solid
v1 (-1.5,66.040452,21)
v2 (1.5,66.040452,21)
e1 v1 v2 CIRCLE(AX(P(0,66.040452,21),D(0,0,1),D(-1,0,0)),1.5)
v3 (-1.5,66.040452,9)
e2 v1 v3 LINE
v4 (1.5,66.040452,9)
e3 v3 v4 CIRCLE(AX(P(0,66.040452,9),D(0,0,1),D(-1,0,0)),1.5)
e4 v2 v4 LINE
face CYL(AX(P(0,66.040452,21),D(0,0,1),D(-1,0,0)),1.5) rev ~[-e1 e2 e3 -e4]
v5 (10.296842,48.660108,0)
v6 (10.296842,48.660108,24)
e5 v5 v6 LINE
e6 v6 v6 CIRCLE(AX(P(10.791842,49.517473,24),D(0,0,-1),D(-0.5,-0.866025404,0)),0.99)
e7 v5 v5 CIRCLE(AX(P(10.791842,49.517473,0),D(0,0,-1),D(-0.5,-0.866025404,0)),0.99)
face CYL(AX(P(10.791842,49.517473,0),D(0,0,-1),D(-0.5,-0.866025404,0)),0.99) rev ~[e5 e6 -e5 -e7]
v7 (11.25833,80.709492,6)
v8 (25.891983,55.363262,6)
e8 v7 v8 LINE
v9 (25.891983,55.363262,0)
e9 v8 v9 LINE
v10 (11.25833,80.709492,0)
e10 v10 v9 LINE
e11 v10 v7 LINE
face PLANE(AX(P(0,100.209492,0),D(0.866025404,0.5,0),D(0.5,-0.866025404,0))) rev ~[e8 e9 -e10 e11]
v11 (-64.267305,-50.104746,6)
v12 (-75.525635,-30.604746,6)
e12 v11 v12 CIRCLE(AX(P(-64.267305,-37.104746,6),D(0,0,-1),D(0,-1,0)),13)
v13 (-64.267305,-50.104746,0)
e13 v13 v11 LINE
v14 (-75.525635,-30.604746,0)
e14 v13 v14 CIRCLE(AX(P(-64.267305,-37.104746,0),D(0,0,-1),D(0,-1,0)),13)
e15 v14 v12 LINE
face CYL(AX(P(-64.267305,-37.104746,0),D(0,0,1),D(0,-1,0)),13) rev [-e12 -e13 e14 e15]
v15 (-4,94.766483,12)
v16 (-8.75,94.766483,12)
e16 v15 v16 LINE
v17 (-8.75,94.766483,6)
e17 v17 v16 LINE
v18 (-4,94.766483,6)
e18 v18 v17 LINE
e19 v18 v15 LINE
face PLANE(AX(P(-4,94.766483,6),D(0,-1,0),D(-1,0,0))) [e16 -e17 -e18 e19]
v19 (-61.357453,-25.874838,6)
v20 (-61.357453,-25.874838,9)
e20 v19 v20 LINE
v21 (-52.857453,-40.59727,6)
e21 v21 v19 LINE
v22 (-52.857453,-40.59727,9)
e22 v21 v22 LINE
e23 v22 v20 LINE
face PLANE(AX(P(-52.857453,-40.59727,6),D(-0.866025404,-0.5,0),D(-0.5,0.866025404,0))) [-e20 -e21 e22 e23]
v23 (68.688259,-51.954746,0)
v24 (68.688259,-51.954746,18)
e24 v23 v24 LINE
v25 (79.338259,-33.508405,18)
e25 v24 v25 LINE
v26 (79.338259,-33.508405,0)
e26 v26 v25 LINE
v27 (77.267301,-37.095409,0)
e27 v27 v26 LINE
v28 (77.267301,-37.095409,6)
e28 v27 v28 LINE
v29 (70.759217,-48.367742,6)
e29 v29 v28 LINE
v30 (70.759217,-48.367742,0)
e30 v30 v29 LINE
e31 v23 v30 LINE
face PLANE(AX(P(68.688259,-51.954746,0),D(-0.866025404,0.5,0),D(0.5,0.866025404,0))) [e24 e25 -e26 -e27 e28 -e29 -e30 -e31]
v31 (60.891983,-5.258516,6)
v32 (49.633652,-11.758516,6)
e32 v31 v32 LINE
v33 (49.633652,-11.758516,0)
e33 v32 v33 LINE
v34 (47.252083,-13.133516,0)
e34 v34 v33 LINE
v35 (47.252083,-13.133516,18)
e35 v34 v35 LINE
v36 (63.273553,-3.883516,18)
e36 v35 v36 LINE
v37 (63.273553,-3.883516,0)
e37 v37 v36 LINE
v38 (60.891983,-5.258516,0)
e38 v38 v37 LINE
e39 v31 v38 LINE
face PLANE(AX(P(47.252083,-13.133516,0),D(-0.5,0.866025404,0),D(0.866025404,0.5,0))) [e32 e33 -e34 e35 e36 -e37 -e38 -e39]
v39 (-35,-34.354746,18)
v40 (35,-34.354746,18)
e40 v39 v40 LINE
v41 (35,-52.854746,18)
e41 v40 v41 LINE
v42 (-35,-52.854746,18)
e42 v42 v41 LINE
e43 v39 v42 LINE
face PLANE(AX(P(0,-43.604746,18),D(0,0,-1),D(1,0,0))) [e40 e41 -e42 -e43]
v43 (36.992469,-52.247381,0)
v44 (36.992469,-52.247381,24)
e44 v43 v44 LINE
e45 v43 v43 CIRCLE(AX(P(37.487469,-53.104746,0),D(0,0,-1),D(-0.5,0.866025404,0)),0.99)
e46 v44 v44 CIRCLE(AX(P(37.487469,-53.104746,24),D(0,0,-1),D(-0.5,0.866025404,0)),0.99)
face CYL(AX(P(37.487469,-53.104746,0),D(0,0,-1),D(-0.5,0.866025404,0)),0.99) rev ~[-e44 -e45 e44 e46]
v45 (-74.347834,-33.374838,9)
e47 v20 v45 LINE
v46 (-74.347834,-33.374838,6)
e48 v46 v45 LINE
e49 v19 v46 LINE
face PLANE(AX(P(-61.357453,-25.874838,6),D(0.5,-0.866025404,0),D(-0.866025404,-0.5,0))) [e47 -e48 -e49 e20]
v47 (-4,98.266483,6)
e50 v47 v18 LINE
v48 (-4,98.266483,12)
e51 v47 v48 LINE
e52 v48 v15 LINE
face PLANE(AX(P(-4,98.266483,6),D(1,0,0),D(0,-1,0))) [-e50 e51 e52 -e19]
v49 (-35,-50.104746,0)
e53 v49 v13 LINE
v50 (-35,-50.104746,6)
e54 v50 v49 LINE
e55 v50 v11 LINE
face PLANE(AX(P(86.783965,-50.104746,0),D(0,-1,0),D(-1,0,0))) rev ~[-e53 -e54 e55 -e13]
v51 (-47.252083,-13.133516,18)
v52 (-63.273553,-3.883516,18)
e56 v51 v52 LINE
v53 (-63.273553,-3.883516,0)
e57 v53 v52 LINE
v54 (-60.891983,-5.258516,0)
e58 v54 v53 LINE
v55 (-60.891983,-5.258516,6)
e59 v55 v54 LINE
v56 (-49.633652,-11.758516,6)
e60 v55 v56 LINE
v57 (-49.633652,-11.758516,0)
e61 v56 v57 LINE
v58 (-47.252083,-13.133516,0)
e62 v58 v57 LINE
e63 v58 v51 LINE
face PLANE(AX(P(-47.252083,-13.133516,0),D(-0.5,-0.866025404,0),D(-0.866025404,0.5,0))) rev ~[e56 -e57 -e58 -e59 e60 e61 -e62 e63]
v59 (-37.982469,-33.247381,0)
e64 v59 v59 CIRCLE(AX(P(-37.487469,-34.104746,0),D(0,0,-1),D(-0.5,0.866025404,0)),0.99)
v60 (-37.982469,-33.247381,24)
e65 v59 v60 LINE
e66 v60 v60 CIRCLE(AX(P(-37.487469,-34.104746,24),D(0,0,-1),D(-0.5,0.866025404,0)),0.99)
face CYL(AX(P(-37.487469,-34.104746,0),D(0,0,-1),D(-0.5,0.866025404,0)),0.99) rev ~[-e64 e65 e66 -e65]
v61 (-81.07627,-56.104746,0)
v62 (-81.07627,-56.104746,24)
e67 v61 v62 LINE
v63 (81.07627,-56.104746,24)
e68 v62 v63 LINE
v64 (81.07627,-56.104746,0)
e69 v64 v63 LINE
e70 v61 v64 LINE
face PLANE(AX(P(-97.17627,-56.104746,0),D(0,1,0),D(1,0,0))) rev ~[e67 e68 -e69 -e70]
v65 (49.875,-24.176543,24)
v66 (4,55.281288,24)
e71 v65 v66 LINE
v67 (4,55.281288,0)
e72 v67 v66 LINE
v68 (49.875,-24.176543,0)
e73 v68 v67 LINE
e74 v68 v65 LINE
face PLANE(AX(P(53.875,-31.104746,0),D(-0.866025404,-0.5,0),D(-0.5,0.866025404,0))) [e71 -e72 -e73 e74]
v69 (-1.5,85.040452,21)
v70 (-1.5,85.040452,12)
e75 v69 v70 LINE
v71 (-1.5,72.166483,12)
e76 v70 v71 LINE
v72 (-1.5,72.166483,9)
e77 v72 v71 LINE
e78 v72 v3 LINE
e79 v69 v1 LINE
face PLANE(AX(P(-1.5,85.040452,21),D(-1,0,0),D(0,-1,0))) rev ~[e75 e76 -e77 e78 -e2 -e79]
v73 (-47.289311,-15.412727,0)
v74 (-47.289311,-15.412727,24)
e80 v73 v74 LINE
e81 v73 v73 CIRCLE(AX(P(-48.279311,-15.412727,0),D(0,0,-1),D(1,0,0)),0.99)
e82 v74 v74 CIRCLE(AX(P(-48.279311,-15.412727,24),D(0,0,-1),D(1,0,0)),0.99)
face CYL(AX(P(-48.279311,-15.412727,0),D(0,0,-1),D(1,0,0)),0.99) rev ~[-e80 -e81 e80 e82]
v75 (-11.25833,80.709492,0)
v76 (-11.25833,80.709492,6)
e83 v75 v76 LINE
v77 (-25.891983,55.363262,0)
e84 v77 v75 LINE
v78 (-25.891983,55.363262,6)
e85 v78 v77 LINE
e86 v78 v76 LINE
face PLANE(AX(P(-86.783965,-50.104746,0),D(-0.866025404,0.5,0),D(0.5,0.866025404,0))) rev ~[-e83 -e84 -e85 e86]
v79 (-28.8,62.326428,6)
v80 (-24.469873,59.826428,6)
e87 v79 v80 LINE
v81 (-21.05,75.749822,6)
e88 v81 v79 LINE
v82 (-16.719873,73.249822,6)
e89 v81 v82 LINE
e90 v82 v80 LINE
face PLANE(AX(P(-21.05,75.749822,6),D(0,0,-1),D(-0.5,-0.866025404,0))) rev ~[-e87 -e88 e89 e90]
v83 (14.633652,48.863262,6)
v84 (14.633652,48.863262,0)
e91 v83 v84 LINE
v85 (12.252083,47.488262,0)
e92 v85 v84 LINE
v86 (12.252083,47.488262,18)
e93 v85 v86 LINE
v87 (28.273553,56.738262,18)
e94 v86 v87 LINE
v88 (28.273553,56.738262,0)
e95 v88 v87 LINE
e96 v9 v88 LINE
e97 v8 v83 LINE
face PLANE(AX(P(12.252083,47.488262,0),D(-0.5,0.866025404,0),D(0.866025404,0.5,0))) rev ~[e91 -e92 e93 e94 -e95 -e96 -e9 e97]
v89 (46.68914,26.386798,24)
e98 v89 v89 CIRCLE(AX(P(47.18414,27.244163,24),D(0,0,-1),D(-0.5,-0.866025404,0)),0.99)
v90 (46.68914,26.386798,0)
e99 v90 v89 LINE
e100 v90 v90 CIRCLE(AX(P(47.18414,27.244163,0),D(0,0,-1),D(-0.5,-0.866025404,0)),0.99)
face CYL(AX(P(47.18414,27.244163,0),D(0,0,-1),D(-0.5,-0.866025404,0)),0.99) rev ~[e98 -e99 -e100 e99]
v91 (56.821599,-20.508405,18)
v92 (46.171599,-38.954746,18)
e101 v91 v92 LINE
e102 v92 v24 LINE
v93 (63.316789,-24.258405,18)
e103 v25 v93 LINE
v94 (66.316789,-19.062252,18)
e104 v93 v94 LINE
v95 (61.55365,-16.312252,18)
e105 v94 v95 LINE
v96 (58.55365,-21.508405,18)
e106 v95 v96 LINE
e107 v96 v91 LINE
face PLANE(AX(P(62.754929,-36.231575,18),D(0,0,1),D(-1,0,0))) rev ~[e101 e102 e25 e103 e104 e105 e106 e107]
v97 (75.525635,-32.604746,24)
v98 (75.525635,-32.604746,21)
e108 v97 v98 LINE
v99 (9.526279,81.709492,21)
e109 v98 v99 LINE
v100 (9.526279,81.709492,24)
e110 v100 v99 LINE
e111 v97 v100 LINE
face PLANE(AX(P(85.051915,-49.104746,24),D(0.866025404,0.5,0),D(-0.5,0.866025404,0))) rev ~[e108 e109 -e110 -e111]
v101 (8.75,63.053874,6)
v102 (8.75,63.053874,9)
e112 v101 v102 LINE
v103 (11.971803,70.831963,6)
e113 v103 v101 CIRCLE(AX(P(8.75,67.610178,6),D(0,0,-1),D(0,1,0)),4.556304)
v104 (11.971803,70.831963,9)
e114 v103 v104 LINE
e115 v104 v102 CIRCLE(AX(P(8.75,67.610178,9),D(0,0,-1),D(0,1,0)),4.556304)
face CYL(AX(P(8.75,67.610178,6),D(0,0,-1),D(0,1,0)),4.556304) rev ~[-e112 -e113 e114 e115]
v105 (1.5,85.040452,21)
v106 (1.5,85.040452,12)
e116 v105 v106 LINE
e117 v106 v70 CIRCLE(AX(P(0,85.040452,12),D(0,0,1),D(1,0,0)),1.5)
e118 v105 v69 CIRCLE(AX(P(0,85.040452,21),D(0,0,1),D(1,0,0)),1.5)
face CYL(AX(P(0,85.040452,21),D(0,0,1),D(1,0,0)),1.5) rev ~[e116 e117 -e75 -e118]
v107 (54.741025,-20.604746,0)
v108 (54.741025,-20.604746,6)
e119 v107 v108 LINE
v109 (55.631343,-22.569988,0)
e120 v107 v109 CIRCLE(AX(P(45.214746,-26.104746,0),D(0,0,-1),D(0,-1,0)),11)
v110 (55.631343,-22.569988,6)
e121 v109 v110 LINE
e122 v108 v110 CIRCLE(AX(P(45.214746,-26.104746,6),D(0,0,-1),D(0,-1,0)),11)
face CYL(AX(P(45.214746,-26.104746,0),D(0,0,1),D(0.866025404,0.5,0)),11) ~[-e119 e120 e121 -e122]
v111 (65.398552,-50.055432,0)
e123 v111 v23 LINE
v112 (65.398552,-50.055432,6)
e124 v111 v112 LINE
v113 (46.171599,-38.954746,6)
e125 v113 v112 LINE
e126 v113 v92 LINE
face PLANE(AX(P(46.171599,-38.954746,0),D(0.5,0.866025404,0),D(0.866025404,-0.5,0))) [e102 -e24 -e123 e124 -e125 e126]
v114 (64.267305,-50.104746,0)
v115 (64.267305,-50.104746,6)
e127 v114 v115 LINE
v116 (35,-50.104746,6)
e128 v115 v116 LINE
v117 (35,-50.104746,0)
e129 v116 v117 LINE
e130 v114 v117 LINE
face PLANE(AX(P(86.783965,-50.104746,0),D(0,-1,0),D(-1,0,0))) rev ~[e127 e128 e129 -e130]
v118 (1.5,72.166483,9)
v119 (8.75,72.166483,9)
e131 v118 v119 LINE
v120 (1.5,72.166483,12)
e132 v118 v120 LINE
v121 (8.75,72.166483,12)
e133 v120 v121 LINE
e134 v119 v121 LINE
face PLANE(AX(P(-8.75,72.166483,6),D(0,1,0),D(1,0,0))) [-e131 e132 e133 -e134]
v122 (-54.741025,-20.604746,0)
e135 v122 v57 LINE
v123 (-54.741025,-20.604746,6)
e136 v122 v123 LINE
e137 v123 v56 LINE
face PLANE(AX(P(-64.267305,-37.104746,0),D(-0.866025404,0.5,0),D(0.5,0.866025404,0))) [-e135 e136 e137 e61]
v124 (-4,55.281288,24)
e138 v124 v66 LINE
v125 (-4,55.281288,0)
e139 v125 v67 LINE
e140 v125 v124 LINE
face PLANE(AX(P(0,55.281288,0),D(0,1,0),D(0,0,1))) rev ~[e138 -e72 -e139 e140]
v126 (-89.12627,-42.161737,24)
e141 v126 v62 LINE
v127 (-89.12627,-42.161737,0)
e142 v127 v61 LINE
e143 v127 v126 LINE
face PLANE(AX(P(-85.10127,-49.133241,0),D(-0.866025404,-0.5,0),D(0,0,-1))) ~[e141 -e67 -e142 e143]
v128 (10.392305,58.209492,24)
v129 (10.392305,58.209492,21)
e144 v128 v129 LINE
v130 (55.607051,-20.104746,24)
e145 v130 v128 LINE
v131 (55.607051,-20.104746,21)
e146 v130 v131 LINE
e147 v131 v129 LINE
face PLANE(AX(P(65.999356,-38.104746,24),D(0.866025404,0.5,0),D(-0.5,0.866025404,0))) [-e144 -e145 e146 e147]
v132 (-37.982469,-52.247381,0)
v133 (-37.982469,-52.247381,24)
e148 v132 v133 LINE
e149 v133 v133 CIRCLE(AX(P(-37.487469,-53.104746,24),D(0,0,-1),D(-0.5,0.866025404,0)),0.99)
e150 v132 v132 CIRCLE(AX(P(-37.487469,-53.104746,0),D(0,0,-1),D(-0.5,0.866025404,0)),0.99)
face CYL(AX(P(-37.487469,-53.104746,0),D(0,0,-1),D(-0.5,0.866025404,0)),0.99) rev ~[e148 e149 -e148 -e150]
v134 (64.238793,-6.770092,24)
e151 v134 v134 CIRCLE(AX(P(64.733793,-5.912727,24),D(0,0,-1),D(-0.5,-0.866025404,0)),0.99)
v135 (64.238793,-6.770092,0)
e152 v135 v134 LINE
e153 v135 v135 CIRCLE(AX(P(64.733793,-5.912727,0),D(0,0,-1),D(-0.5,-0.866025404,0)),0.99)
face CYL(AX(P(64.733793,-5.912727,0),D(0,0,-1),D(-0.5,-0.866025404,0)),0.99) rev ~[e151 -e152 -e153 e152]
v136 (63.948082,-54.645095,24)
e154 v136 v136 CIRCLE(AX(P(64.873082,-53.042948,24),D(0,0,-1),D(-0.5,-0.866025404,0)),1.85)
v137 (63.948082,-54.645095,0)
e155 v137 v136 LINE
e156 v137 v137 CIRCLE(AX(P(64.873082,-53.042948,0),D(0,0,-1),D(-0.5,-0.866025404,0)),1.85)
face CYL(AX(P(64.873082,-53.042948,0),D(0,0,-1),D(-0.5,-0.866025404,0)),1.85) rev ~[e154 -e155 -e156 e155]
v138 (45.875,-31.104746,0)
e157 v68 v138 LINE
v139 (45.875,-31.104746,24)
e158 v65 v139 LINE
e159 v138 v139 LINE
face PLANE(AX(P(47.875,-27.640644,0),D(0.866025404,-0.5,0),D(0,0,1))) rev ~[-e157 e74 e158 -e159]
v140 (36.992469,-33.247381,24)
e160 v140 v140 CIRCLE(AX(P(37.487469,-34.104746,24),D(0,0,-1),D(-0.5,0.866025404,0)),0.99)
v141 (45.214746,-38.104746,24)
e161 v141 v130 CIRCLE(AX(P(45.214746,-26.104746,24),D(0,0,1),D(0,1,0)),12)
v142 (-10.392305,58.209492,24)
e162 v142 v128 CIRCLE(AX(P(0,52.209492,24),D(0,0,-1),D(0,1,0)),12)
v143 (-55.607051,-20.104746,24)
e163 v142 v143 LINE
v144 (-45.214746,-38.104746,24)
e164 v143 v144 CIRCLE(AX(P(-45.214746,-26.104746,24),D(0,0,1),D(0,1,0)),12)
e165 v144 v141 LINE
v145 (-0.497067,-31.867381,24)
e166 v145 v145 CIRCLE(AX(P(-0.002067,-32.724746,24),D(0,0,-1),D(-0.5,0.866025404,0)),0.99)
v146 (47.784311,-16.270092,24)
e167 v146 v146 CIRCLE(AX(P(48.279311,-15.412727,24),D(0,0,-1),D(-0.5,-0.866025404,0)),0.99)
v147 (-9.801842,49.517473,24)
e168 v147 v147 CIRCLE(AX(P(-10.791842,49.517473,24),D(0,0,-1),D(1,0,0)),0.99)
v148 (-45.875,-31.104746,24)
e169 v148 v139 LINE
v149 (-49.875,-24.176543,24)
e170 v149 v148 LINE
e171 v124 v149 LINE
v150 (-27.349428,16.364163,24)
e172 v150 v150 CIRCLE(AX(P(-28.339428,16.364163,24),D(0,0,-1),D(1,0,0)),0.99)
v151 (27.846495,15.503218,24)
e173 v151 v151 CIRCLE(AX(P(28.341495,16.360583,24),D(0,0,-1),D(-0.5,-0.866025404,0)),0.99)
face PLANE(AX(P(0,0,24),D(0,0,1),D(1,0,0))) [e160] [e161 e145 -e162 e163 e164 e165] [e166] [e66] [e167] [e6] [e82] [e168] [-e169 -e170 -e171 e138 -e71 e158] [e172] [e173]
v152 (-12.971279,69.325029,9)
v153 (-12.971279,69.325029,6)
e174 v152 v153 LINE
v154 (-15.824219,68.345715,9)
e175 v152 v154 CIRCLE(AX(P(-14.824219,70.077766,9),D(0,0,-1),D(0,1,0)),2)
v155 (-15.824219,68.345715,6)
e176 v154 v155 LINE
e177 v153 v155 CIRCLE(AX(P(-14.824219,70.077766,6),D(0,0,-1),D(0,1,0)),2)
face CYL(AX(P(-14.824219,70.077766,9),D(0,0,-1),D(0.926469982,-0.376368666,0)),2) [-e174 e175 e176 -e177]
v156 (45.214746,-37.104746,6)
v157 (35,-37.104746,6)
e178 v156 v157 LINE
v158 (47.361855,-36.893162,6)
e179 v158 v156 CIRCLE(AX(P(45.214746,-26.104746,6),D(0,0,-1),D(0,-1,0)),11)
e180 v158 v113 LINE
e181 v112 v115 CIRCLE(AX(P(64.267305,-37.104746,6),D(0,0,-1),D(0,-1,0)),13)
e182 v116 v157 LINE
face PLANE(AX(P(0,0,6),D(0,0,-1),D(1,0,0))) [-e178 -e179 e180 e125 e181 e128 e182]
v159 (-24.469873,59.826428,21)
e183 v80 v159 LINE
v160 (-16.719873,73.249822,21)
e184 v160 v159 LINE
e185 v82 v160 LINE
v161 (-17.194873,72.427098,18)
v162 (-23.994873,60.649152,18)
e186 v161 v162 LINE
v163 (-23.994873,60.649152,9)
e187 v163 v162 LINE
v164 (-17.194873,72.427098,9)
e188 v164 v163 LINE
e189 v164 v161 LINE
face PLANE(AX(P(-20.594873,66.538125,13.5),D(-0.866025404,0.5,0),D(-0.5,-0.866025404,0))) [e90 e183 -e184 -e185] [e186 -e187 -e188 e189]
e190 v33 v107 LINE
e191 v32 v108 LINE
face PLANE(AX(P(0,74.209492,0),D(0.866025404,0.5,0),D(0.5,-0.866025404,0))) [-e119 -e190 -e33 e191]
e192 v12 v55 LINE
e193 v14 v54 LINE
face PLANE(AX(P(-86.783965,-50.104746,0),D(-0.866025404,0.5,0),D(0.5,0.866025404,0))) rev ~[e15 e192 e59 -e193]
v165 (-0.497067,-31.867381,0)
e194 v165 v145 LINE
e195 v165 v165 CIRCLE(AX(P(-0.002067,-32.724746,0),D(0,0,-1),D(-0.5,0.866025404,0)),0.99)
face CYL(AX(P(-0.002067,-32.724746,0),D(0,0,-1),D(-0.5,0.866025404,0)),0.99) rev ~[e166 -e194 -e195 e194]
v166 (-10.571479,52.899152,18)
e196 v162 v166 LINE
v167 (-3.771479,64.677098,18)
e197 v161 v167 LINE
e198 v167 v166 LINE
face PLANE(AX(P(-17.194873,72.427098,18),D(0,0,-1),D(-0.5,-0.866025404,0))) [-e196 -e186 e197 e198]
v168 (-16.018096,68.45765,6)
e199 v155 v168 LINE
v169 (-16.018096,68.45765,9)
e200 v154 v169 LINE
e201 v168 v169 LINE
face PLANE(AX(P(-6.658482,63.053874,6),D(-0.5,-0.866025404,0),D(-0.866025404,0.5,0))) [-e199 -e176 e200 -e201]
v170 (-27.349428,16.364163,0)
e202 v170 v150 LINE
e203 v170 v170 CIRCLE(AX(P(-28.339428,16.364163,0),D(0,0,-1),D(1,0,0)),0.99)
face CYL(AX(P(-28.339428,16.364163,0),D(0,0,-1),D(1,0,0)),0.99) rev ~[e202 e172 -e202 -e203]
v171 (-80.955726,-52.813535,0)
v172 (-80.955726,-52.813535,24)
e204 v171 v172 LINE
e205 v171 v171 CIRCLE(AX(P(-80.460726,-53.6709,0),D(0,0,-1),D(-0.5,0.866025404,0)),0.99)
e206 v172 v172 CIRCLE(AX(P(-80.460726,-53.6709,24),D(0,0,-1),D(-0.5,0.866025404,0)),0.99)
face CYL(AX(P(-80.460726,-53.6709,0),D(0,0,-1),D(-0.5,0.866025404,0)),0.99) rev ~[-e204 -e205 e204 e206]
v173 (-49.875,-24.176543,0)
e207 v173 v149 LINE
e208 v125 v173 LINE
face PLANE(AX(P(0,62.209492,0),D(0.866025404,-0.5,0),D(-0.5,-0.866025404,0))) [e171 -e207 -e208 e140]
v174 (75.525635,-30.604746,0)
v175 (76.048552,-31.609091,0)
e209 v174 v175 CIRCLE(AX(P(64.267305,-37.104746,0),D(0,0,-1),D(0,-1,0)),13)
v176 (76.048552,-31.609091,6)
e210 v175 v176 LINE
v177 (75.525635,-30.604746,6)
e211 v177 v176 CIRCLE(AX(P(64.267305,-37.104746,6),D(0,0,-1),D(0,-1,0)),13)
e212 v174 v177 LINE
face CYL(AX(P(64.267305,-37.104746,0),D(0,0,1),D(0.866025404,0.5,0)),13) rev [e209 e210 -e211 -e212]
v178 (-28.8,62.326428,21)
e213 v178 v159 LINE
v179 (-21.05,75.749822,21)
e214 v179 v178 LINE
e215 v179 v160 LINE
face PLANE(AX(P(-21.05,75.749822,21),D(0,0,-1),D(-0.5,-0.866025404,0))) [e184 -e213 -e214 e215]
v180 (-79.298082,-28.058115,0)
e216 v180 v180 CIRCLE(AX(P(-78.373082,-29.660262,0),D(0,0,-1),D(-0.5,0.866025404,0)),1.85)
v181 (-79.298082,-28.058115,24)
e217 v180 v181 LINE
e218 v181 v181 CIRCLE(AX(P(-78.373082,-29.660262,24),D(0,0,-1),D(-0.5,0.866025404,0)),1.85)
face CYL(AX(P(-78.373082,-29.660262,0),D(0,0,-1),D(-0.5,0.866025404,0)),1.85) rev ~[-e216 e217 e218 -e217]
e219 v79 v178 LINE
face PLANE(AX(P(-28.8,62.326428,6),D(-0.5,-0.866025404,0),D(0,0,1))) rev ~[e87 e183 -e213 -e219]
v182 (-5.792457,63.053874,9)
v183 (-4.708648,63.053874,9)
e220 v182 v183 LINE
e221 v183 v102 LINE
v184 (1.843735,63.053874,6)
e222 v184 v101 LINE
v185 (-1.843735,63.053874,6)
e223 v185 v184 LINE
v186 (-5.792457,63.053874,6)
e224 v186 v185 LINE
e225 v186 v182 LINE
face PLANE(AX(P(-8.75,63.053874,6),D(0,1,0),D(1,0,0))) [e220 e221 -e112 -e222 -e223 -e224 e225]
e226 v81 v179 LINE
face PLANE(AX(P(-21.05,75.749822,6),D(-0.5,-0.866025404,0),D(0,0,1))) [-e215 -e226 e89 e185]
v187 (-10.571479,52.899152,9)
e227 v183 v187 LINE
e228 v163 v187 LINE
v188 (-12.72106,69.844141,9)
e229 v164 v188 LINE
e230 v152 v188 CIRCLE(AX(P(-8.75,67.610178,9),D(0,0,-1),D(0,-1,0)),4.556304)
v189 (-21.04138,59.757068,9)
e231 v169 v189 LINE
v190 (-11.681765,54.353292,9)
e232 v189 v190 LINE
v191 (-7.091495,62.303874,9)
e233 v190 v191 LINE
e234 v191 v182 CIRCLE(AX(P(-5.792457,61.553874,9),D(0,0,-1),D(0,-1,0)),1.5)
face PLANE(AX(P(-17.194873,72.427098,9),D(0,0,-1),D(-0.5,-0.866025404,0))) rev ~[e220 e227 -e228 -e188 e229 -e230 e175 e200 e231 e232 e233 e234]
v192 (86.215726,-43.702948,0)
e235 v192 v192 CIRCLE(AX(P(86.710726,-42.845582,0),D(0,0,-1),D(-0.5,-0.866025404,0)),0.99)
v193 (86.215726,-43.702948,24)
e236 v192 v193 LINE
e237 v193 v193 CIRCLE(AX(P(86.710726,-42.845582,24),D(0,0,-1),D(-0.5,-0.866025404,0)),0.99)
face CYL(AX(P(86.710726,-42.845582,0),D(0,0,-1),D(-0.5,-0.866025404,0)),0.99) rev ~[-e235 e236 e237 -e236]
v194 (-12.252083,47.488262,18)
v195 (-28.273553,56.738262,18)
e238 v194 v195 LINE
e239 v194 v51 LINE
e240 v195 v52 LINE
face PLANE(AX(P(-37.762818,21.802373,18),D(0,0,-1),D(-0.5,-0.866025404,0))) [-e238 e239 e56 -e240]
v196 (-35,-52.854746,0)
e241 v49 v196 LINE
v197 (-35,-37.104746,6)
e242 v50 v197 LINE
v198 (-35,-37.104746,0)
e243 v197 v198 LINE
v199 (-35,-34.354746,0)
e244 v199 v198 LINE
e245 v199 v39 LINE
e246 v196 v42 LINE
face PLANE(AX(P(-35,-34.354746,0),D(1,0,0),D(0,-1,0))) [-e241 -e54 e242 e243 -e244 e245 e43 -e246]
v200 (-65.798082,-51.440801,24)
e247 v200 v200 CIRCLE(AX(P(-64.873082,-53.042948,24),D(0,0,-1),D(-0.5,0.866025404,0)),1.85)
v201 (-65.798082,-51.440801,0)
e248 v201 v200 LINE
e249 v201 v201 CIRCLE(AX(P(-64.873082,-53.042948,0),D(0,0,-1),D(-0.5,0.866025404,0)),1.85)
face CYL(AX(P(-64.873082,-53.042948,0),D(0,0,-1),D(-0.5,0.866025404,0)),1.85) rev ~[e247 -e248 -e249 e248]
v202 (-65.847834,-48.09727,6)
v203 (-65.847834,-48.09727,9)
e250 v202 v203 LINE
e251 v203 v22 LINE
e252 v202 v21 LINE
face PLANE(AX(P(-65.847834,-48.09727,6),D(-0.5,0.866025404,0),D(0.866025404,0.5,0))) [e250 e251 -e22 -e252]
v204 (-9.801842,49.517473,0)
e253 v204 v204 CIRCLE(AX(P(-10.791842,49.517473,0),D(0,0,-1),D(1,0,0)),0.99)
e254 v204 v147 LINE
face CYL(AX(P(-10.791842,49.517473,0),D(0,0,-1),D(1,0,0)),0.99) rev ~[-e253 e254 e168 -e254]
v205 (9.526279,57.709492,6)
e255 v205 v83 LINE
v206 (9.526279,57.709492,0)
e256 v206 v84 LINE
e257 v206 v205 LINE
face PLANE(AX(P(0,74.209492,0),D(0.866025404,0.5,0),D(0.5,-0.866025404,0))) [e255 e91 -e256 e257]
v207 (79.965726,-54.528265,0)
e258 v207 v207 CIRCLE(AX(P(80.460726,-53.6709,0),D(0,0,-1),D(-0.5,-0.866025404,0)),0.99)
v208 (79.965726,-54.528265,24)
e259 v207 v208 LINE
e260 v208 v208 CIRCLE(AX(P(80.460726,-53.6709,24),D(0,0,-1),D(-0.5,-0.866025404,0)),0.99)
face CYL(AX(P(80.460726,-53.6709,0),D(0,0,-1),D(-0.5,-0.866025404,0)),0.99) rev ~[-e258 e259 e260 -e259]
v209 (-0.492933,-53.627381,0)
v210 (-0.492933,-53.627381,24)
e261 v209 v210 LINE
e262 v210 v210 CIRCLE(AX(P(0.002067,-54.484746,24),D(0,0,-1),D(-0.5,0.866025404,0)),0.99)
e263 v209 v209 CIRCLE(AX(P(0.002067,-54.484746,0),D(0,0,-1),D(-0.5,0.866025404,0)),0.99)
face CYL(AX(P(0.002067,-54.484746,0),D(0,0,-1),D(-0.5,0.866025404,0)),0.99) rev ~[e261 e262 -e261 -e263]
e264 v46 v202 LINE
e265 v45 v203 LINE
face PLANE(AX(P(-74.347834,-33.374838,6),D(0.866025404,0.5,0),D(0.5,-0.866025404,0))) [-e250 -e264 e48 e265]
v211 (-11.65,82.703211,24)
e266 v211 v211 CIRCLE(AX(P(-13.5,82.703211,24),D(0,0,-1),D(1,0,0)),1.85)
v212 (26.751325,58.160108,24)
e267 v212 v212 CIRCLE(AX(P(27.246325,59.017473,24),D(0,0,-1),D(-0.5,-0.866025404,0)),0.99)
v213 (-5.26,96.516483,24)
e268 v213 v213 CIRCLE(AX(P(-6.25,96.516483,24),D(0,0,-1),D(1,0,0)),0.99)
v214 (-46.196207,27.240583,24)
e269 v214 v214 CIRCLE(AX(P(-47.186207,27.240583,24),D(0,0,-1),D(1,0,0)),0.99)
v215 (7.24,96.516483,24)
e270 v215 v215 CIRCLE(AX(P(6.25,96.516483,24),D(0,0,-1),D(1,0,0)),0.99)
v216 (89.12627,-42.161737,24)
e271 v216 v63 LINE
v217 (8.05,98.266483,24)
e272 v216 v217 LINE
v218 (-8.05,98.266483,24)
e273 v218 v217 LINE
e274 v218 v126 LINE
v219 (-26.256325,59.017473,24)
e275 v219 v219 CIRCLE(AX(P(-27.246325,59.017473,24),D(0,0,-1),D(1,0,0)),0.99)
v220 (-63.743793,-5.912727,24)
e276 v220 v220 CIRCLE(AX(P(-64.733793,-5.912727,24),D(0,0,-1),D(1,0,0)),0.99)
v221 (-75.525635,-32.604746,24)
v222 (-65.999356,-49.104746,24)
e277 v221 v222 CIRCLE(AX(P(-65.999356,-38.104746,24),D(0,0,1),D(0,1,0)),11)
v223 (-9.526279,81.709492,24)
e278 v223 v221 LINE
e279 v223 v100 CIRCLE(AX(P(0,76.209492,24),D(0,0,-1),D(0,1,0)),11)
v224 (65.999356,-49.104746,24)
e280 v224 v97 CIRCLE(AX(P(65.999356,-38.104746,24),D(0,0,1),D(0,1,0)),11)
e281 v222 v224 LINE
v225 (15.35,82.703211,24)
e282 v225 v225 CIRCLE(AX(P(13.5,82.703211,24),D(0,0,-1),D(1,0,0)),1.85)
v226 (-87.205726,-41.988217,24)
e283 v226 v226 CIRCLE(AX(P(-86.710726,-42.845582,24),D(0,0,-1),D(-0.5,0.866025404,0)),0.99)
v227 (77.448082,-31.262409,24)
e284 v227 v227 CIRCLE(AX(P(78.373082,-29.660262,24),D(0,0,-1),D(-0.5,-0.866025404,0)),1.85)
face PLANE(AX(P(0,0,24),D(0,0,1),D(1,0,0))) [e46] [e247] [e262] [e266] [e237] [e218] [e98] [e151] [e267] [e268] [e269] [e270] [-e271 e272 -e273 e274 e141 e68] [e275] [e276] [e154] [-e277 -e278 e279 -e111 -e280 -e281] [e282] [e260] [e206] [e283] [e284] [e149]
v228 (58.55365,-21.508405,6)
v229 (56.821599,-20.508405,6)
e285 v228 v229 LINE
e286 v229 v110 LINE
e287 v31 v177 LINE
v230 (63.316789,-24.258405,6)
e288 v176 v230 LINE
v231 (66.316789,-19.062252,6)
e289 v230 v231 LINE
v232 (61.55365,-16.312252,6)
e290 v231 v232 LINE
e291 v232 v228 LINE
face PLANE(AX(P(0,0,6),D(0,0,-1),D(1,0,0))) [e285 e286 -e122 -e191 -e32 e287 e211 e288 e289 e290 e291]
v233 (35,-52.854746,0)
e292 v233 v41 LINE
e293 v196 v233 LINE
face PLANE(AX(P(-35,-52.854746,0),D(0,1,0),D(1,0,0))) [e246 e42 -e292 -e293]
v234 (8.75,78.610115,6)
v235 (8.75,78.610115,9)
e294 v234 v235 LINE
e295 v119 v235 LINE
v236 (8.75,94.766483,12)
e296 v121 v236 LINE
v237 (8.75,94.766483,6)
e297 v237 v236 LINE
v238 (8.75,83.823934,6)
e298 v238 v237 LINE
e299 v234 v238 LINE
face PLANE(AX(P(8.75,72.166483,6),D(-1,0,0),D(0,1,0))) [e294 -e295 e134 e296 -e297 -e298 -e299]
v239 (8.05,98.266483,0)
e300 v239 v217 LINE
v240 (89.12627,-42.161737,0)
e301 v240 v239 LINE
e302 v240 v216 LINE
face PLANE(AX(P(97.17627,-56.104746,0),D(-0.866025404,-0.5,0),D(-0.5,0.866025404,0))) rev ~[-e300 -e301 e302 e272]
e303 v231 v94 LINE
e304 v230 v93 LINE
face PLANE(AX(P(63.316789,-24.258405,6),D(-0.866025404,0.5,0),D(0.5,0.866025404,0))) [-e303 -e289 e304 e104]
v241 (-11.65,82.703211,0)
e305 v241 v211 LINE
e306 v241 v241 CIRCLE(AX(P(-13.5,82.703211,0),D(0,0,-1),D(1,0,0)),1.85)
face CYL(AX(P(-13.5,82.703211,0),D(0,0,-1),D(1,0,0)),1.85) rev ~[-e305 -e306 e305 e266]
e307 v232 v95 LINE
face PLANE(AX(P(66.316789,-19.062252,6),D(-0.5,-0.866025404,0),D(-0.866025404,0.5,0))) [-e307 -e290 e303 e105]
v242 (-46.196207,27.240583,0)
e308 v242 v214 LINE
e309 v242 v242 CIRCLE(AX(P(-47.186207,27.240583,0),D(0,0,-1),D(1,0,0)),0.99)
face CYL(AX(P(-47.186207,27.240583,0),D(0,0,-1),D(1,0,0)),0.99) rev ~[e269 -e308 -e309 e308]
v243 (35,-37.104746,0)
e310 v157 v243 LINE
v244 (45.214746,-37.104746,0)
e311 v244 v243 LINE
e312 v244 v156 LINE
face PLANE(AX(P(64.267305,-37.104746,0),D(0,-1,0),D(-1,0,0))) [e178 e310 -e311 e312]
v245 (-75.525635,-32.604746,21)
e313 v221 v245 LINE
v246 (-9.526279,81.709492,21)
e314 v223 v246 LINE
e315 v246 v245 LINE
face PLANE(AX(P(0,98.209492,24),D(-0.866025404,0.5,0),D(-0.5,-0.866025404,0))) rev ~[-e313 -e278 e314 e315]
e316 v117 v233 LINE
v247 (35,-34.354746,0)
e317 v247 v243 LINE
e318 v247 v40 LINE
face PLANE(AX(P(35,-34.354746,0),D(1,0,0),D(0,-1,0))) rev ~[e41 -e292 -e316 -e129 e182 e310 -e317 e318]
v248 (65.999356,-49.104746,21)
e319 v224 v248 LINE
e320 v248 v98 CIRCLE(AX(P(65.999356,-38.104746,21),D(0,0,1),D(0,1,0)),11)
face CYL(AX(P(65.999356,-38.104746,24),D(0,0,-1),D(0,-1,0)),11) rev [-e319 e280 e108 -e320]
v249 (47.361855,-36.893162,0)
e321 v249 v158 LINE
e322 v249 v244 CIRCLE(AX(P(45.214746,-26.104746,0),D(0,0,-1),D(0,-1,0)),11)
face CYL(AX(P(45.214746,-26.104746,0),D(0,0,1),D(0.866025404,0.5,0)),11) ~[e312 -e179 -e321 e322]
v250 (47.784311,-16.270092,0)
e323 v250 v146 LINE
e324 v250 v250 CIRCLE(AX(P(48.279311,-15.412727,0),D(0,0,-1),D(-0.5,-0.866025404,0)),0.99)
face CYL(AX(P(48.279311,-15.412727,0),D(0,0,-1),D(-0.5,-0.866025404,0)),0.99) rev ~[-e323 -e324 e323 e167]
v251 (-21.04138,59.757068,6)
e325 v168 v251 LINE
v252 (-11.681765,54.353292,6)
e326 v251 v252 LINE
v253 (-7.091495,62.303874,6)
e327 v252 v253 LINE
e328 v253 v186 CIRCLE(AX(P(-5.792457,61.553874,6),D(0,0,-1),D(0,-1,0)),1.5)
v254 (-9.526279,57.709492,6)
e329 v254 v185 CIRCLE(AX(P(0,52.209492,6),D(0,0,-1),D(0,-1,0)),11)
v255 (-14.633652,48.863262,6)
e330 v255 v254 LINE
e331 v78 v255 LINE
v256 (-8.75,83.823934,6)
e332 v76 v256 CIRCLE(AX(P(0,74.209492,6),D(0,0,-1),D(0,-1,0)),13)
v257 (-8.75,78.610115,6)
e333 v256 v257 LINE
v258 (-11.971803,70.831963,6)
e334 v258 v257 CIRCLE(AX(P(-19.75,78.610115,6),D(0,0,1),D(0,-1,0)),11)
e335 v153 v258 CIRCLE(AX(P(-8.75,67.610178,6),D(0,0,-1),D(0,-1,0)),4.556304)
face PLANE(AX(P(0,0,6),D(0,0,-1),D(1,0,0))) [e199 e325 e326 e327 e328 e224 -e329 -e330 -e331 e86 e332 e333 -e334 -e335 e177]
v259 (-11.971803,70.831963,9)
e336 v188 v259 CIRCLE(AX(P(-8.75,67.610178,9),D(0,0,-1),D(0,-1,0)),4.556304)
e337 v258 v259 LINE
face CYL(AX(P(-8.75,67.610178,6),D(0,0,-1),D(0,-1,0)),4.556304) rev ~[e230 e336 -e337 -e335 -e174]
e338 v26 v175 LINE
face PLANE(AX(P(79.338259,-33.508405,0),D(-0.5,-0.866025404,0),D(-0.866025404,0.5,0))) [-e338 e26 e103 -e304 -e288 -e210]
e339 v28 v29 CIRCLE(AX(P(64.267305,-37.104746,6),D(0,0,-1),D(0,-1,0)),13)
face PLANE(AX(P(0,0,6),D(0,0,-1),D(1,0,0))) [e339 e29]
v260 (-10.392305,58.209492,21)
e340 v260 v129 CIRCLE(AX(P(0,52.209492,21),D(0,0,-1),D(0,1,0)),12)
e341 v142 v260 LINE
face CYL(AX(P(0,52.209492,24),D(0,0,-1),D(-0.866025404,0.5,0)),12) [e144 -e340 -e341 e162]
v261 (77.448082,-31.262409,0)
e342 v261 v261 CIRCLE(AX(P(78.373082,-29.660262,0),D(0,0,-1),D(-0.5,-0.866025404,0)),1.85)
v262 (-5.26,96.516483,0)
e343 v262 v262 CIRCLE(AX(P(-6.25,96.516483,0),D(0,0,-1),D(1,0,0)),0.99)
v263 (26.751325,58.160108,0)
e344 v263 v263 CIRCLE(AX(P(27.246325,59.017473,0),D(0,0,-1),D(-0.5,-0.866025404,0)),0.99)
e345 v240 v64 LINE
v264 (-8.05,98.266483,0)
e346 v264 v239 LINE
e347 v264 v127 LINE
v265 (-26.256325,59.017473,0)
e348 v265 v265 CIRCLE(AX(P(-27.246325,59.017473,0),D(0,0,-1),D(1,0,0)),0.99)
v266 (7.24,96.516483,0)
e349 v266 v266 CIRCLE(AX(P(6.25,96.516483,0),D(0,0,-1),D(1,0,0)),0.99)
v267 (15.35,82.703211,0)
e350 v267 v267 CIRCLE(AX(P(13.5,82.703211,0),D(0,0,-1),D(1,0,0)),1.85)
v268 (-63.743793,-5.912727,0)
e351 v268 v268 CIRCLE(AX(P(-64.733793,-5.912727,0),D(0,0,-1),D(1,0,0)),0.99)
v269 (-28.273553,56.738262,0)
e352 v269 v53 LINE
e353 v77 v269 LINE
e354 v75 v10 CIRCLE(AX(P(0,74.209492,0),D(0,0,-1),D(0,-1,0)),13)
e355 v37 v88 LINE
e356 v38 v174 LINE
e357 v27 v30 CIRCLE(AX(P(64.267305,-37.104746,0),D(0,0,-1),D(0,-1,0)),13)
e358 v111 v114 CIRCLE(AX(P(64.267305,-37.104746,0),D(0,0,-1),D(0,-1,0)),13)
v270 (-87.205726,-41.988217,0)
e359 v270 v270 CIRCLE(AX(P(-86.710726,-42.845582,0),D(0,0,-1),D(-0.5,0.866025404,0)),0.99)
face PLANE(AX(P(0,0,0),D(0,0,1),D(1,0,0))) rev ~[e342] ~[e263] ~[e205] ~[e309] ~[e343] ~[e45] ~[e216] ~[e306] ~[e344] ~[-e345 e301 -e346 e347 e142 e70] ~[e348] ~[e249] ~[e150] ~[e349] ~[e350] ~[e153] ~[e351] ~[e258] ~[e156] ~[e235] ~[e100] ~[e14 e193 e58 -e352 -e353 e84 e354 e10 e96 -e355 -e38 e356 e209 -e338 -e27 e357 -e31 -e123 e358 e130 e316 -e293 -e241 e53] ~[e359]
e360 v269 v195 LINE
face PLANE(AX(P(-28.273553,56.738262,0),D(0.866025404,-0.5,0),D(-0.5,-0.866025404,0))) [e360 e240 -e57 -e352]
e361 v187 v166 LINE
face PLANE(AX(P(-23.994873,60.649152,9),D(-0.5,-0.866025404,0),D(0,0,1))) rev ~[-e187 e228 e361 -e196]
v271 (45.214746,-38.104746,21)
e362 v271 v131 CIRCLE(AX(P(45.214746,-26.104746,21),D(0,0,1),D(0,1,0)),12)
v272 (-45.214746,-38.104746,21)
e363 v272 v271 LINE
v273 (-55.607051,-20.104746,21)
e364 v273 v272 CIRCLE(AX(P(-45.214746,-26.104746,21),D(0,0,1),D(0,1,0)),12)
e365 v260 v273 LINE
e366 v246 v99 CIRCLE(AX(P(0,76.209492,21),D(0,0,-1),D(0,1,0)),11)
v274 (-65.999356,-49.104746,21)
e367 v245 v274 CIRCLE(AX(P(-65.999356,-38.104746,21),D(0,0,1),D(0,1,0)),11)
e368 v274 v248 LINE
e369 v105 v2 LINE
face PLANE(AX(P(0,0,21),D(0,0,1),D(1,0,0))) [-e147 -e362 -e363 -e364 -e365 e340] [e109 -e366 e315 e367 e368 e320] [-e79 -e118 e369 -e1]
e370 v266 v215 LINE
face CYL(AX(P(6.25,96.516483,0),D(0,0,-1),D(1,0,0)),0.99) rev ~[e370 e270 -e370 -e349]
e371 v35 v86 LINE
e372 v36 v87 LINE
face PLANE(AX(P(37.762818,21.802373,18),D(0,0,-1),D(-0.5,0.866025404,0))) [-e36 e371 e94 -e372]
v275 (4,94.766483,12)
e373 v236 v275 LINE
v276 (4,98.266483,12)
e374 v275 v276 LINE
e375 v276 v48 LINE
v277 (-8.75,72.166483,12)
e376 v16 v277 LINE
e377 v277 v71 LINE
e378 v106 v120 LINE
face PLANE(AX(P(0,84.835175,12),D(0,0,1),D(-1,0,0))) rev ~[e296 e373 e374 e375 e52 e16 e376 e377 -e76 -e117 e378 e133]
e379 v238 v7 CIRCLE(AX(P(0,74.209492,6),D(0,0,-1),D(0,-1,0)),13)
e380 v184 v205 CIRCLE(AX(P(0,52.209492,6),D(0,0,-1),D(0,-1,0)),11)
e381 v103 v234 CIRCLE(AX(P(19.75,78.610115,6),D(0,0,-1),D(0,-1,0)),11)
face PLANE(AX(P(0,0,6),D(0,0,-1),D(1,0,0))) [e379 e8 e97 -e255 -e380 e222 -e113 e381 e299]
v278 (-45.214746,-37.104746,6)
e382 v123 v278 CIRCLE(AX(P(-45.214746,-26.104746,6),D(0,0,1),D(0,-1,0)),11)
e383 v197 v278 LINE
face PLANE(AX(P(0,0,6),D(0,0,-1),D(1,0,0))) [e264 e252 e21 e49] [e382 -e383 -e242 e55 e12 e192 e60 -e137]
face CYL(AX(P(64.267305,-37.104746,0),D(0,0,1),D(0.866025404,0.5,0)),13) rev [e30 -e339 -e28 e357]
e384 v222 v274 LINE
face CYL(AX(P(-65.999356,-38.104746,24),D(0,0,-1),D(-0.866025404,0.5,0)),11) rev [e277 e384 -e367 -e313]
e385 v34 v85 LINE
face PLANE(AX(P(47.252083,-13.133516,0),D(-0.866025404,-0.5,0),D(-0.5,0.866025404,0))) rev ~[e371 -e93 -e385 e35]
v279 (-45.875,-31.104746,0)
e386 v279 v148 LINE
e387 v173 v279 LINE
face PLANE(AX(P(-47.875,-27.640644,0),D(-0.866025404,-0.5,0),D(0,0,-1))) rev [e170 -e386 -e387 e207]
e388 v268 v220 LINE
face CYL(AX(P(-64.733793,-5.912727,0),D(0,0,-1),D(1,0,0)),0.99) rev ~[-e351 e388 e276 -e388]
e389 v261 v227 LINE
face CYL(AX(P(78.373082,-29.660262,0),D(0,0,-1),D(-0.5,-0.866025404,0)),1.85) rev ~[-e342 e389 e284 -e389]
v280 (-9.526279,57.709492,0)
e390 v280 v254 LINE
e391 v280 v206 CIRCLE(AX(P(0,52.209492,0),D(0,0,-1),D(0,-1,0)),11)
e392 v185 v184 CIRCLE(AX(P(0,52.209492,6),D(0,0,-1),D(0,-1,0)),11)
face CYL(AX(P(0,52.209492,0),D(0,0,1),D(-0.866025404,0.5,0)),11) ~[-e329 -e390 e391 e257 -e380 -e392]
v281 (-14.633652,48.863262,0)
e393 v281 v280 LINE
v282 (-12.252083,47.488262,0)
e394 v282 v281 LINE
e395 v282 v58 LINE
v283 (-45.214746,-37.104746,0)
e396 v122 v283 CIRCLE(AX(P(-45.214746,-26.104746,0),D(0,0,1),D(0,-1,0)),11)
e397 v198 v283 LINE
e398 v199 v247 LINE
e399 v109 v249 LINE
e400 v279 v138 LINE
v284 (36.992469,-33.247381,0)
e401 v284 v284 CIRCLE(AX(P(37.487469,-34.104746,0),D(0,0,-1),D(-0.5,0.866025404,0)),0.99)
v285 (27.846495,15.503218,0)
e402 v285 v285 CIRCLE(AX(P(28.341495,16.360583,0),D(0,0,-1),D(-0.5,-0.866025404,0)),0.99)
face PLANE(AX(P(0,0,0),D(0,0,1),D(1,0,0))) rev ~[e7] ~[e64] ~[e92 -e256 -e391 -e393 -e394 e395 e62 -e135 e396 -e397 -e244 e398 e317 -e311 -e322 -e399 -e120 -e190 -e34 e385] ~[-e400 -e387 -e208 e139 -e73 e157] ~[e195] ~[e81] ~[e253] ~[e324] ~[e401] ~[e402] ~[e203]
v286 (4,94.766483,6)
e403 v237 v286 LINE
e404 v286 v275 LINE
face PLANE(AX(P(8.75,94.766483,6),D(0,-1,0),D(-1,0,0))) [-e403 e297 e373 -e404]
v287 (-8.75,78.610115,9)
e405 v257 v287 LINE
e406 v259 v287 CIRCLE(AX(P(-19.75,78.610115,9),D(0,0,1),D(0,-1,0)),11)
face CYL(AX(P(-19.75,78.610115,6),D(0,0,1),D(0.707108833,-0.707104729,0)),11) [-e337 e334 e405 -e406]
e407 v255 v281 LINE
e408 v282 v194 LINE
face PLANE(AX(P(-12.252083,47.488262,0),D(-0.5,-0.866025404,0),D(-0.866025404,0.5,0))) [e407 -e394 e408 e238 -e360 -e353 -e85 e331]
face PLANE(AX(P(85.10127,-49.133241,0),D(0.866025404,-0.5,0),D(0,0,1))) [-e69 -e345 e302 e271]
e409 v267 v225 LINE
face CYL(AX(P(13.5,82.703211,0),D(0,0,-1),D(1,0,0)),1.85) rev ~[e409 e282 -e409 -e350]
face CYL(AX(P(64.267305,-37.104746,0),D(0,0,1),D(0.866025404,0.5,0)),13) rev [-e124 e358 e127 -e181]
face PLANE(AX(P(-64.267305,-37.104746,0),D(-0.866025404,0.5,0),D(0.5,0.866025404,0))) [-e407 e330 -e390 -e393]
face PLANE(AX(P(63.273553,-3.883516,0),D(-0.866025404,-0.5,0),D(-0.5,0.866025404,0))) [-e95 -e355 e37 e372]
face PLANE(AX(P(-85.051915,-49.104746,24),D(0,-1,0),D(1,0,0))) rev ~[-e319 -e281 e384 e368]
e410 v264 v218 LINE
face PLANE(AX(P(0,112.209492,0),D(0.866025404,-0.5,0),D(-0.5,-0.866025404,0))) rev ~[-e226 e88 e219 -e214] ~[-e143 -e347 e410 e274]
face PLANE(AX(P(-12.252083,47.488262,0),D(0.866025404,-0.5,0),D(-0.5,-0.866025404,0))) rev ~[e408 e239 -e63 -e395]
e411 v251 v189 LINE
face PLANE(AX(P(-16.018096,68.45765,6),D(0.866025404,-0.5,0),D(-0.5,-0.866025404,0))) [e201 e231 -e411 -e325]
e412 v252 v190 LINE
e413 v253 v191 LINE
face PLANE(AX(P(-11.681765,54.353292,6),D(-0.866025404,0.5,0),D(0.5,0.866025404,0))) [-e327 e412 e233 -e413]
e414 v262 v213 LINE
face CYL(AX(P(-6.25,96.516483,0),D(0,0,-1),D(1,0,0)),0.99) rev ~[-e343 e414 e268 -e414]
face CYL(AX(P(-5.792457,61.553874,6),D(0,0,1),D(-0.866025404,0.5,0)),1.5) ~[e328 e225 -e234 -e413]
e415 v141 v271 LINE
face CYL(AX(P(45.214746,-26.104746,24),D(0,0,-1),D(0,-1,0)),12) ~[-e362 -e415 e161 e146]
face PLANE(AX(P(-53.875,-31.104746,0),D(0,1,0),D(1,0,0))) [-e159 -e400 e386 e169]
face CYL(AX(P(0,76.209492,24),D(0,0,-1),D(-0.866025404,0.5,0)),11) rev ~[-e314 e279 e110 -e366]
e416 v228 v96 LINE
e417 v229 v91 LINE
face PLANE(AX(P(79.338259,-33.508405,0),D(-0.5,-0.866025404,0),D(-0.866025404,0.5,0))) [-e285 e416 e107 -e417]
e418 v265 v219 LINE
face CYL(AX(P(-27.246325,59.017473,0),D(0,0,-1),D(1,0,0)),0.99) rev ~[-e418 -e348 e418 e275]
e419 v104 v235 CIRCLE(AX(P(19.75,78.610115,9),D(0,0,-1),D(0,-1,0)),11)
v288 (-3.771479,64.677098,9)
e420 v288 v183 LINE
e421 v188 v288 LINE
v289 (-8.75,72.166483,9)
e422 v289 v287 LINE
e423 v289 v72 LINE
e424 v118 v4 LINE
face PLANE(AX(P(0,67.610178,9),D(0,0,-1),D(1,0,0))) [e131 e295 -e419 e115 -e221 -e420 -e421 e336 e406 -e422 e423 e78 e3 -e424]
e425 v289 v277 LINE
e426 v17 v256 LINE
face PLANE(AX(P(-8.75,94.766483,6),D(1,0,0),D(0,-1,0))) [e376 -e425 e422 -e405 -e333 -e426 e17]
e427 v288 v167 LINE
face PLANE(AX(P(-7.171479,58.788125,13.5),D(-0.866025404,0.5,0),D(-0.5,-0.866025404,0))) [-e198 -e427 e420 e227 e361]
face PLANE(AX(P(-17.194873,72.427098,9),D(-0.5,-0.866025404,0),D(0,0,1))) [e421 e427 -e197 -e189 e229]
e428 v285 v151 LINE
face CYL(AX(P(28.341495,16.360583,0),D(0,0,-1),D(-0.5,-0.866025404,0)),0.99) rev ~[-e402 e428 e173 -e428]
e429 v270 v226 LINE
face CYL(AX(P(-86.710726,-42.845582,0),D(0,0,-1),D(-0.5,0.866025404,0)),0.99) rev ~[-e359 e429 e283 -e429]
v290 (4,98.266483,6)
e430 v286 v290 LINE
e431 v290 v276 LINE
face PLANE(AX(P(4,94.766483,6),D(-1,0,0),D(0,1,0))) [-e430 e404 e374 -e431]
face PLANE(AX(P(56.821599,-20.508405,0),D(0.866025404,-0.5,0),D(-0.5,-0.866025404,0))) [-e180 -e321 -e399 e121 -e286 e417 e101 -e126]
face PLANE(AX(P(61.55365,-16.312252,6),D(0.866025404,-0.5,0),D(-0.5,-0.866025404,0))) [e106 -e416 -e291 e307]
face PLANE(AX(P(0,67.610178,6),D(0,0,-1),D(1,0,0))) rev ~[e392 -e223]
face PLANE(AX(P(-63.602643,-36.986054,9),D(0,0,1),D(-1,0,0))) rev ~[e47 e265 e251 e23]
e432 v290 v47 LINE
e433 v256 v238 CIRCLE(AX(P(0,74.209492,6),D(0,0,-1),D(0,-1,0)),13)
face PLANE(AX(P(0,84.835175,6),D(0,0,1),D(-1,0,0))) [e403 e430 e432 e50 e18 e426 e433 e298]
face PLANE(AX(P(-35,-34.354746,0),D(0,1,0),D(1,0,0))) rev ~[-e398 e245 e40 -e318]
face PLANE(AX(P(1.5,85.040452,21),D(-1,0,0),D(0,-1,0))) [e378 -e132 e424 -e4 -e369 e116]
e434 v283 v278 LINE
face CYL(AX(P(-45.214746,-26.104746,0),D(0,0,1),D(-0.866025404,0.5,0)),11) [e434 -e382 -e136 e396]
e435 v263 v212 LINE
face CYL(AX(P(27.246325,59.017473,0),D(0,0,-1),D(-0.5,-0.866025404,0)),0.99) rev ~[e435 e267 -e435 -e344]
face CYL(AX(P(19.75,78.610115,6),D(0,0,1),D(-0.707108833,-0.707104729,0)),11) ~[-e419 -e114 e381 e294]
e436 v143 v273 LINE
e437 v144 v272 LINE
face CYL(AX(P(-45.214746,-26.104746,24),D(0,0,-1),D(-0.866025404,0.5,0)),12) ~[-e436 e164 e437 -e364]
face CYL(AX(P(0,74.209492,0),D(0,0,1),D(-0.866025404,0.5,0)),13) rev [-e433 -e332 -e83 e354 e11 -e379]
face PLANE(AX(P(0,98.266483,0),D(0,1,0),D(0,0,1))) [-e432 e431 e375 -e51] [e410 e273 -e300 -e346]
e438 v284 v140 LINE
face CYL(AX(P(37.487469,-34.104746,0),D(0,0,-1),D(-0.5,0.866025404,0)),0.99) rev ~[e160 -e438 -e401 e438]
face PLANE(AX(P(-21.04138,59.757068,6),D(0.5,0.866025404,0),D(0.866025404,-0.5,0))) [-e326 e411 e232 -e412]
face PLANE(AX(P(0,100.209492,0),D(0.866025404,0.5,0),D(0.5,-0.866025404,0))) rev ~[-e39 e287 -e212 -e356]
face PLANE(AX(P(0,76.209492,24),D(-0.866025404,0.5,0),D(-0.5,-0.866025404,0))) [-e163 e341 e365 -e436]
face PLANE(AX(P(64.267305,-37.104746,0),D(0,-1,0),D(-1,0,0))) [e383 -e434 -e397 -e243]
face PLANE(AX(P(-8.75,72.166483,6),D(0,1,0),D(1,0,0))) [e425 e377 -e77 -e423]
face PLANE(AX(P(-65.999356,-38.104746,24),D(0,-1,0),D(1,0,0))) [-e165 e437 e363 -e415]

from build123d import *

# Parameters (mm, degrees)
PAD_DEPTH             = 24
POCKET_DEPTH          = 3
SKETCH002_W           = 70
SKETCH002_H           = 18.5
POCKET001_DEPTH       = 18
POLARPATTERN_COUNT    = 3
POCKET002_DEPTH       = 6
CHAMFER_SIZE          = 8
FILLET_R              = 13
FILLET001_R           = 11
CHAMFER001_SIZE       = 16.1
FILLET002_R           = 11
FILLET003_R           = 12
POCKET003_DEPTH       = 6
POCKET004_DEPTH       = 18
POCKET005_DEPTH       = 21.001
SKETCH007_W           = 15.5
SKETCH007_H           = 15
POCKET006_DEPTH       = 5
SKETCH010_W           = 13.6
SKETCH010_H           = 9
POCKET009_DEPTH       = 15.5
POCKET010_DEPTH       = 3
SKETCH012_R           = 1.85
SKETCH012_R_2         = 0.99
POCKET011_DEPTH       = 498.0492855781
POLARPATTERN001_COUNT = 3
POCKET012_DEPTH       = 12
POCKET013_DEPTH       = 3
POCKET014_DEPTH       = 3
FILLET004_R           = 2
FILLET005_R           = 1.5
FILLET006_R           = 11


with BuildPart() as part:
    # Sketch → Pad (new body)
    with BuildSketch(Plane.XY):
        Polygon((0, 112.2094915052), (-97.1762701892, -56.1047457526), (97.1762701892, -56.1047457526), align=None)
        Polygon((0, 62.2094915052), (-53.875, -31.1047457526), (53.875, -31.1047457526), align=None, mode=Mode.SUBTRACT)
    extrude(amount=PAD_DEPTH)

    # Sketch001 (on Face8 of Pad) → Pocket (cut)
    with BuildSketch(Plane.XY.offset(24)):
        Polygon((0, 98.2094915052), (-85.0519145362, -49.1047457526), (85.0519145362, -49.1047457526), align=None)
        Polygon((0, 76.2094915052), (-65.999355653, -38.1047457526), (65.999355653, -38.1047457526), align=None, mode=Mode.SUBTRACT)
    extrude(amount=-POCKET_DEPTH, mode=Mode.SUBTRACT)

    # Sketch002 (on Face4 of Pocket) → Pocket001 (cut)
    with BuildSketch(Plane(origin=(0, 0, 0), x_dir=(1, 0, 0), z_dir=(0, 0, -1))):
        with Locations((0, 43.6047457526)):
            Rectangle(SKETCH002_W, SKETCH002_H)
    pocket001 = extrude(amount=-POCKET001_DEPTH, mode=Mode.SUBTRACT)

    # PolarPattern: Pocket001 ×3 about axis
    polarpattern_axis = Axis((0, 0, 0), (0, 0, -1))
    for i in range(1, POLARPATTERN_COUNT):
        add(pocket001.rotate(polarpattern_axis, i * 360 / POLARPATTERN_COUNT), mode=Mode.SUBTRACT)

    # Sketch003 (on Face4 of PolarPattern) → Pocket002 (cut)
    with BuildSketch(Plane(origin=(0, 0, 0), x_dir=(1, 0, 0), z_dir=(0, 0, -1))):
        Polygon((0, -100.2094915052), (86.7839653438, 50.1047457526), (-86.7839653438, 50.1047457526), align=None)
        Polygon((0, -74.2094915052), (64.2673048454, 37.1047457526), (-64.2673048454, 37.1047457526), align=None, mode=Mode.SUBTRACT)
    extrude(amount=-POCKET002_DEPTH, mode=Mode.SUBTRACT)

    # Chamfer
    chamfer_edges = [part.edges().sort_by_distance(p)[0] for p in [
        (-53.875, -31.104746, 12),
        (53.875, -31.104746, 12),
        (0, 62.209492, 12),
    ]]
    chamfer(chamfer_edges, length=CHAMFER_SIZE)

    # Fillet
    fillet_edges = [part.edges().sort_by_distance(p)[0] for p in [
        (0, 100.209492, 3),
        (-86.783965, -50.104746, 3),
        (86.783965, -50.104746, 3),
    ]]
    fillet(fillet_edges, radius=FILLET_R)

    # Fillet001
    fillet001_edges = [part.edges().sort_by_distance(p)[0] for p in [
        (0, 74.209492, 3),
        (64.267305, -37.104746, 3),
        (-64.267305, -37.104746, 3),
    ]]
    fillet(fillet001_edges, radius=FILLET001_R)

    # Chamfer001
    chamfer001_edges = [part.edges().sort_by_distance(p)[0] for p in [
        (97.17627, -56.104746, 12),
        (0, 112.209492, 12),
        (-97.17627, -56.104746, 12),
    ]]
    chamfer(chamfer001_edges, length=CHAMFER001_SIZE)

    # Fillet002
    fillet002_edges = [part.edges().sort_by_distance(p)[0] for p in [
        (0, 98.209492, 22.5),
        (-85.051915, -49.104746, 22.5),
        (85.051915, -49.104746, 22.5),
    ]]
    fillet(fillet002_edges, radius=FILLET002_R)

    # Fillet003
    fillet003_edges = [part.edges().sort_by_distance(p)[0] for p in [
        (65.999356, -38.104746, 22.5),
        (0, 76.209492, 22.5),
        (-65.999356, -38.104746, 22.5),
    ]]
    fillet(fillet003_edges, radius=FILLET003_R)

    # Sketch004 (on Face60 of Fillet003) → Pocket003 (cut)
    with BuildSketch(Plane(origin=(0, 0, 6), x_dir=(1, 0, 0), z_dir=(0, 0, -1))):
        Polygon((-8.75, -72.1664825043), (8.75, -72.1664825043), (8.75, -94.7664825043), (4, -94.7664825043), (4, -98.2664825043), (-4, -98.2664825043), (-4, -94.7664825043), (-8.75, -94.7664825043), align=None)
    extrude(amount=-POCKET003_DEPTH, mode=Mode.SUBTRACT)

    # Sketch005 (on Face29 of Pocket003) → Pocket004 (cut)
    with BuildSketch(Plane(origin=(0, 0, 0), x_dir=(1, 0, 0), z_dir=(0, 0, -1))):
        Polygon((46.1715988394, 38.9547457526), (68.6882593378, 51.9547457526), (79.3382593378, 33.508404652), (56.8215988394, 20.508404652), align=None)
    extrude(amount=-POCKET004_DEPTH, mode=Mode.SUBTRACT)

    # Sketch006 (on Face1 of Pocket004) → Pocket005 (cut, through all)
    with BuildSketch(Plane.XY.offset(21)):
        with BuildLine():
            ThreePointArc((1.5, 85.0404521425), (0, 86.5404521425), (-1.5, 85.0404521425))
            Line((-1.5, 85.0404521425), (-1.5, 66.0404521425))
            ThreePointArc((-1.5, 66.0404521425), (0, 64.5404521425), (1.5, 66.0404521425))
            Line((1.5, 85.0404521425), (1.5, 66.0404521425))
        make_face()
    extrude(amount=-POCKET005_DEPTH, mode=Mode.SUBTRACT)

    # Sketch007 (on Face24 of Pocket005) → Pocket006 (cut)
    with BuildSketch(Plane(origin=(-48.5881350946, 28.0523728763, 0), x_dir=(-0.5, -0.8660254038, 0), z_dir=(-0.8660254038, 0.5, 0))):
        with Locations((-47.3262701892, 13.5)):
            Rectangle(SKETCH007_W, SKETCH007_H)
    extrude(amount=-POCKET006_DEPTH, mode=Mode.SUBTRACT)

    # Sketch010 (on Face79 of Pocket006) → Pocket009 (cut)
    with BuildSketch(Plane(origin=(-44.2580080757, 25.5523728763, 0), x_dir=(-0.5, -0.8660254038, 0), z_dir=(-0.8660254038, 0.5, 0))):
        with Locations((-47.3262701892, 13.5)):
            Rectangle(SKETCH010_W, SKETCH010_H)
    extrude(amount=-POCKET009_DEPTH, mode=Mode.SUBTRACT)

    # Sketch011 (on Face21 of Pocket009) → Pocket010 (cut)
    with BuildSketch(Plane(origin=(0, 0, 6), x_dir=(1, 0, 0), z_dir=(0, 0, -1))):
        Polygon((-21.0413798427, -59.7570681827), (-11.6817654684, -54.3532923042), (-6.658482036, -63.0538744299), (-16.0180964103, -68.4576503084), align=None)
    extrude(amount=-POCKET010_DEPTH, mode=Mode.SUBTRACT)

    # Sketch012 (on Face54 of Pocket010) → Pocket011 (cut, through all)
    with BuildSketch(Plane(origin=(0, 0, 0), x_dir=(1, 0, 0), z_dir=(0, 0, -1))):
        with Locations((-13.5, -82.7032108255)):
            Circle(SKETCH012_R)
        with Locations((13.5, -82.7032108255)):
            Circle(SKETCH012_R)
        with Locations((-6.25, -96.5164825043)):
            Circle(SKETCH012_R_2)
        with Locations((6.25, -96.5164825043)):
            Circle(SKETCH012_R_2)
        with Locations((-27.2463245869, -59.0174730012)):
            Circle(SKETCH012_R_2)
        with Locations((-47.1862074814, -27.2405827309)):
            Circle(SKETCH012_R_2)
        with Locations((-64.7337931796, 5.9127272486)):
            Circle(SKETCH012_R_2)
        with Locations((-10.791841915, -49.5174730012)):
            Circle(SKETCH012_R_2)
        with Locations((-28.3394276132, -16.3641630217)):
            Circle(SKETCH012_R_2)
        with Locations((-48.2793105078, 15.4127272487)):
            Circle(SKETCH012_R_2)
    pocket011 = extrude(amount=-POCKET011_DEPTH, mode=Mode.SUBTRACT)

    # PolarPattern001: Pocket011 ×3 about axis
    polarpattern001_axis = Axis((0, 0, 0), (0, 0, -1))
    for i in range(1, POLARPATTERN001_COUNT):
        add(pocket011.rotate(polarpattern001_axis, i * 360 / POLARPATTERN001_COUNT), mode=Mode.SUBTRACT)

    # Sketch013 (on Face132 of PolarPattern001) → Pocket012 (cut)
    with BuildSketch(Plane(origin=(0, 0, 6), x_dir=(1, 0, 0), z_dir=(0, 0, -1))):
        Polygon((58.553649647, 21.508404652), (63.3167893678, 24.258404652), (66.3167893678, 19.0622522293), (61.553649647, 16.3122522293), align=None)
    extrude(amount=-POCKET012_DEPTH, mode=Mode.SUBTRACT)

    # Sketch014 (on Face127 of Pocket012) → Pocket013 (cut)
    with BuildSketch(Plane(origin=(0, 0, 6), x_dir=(1, 0, 0), z_dir=(0, 0, -1))):
        Polygon((-74.3478338252, 33.3748379063), (-65.8478338252, 48.0972697706), (-52.8574527684, 40.5972697706), (-61.3574527684, 25.8748379063), align=None)
    extrude(amount=-POCKET013_DEPTH, mode=Mode.SUBTRACT)

    # Sketch015 (on Face21 of Pocket013) → Pocket014 (cut)
    with BuildSketch(Plane(origin=(0, 0, 6), x_dir=(1, 0, 0), z_dir=(0, 0, -1))):
        with BuildLine():
            ThreePointArc((-8.75, -63.0538744299), (-13.3063040372, -67.6101784671), (-8.75, -72.1664825043))
            Line((-8.75, -72.1664825043), (8.75, -72.1664825043))
            ThreePointArc((8.75, -72.1664825043), (13.3063040372, -67.6101784671), (8.75, -63.0538744299))
            Line((-8.75, -63.0538744299), (8.75, -63.0538744299))
        make_face()
    extrude(amount=-POCKET014_DEPTH, mode=Mode.SUBTRACT)

    # Fillet004
    fillet004_edges = [part.edges().sort_by_distance(p)[0] for p in [
        (-13.243399, 66.855678, 7.5),
    ]]
    fillet(fillet004_edges, radius=FILLET004_R)

    # Fillet005
    fillet005_edges = [part.edges().sort_by_distance(p)[0] for p in [
        (-6.658482, 63.053874, 7.5),
    ]]
    fillet(fillet005_edges, radius=FILLET005_R)

    # Fillet006
    fillet006_edges = [part.edges().sort_by_distance(p)[0] for p in [
        (-8.75, 72.166483, 7.5),
        (8.75, 72.166483, 7.5),
    ]]
    fillet(fillet006_edges, radius=FILLET006_R)


solid = part.part
